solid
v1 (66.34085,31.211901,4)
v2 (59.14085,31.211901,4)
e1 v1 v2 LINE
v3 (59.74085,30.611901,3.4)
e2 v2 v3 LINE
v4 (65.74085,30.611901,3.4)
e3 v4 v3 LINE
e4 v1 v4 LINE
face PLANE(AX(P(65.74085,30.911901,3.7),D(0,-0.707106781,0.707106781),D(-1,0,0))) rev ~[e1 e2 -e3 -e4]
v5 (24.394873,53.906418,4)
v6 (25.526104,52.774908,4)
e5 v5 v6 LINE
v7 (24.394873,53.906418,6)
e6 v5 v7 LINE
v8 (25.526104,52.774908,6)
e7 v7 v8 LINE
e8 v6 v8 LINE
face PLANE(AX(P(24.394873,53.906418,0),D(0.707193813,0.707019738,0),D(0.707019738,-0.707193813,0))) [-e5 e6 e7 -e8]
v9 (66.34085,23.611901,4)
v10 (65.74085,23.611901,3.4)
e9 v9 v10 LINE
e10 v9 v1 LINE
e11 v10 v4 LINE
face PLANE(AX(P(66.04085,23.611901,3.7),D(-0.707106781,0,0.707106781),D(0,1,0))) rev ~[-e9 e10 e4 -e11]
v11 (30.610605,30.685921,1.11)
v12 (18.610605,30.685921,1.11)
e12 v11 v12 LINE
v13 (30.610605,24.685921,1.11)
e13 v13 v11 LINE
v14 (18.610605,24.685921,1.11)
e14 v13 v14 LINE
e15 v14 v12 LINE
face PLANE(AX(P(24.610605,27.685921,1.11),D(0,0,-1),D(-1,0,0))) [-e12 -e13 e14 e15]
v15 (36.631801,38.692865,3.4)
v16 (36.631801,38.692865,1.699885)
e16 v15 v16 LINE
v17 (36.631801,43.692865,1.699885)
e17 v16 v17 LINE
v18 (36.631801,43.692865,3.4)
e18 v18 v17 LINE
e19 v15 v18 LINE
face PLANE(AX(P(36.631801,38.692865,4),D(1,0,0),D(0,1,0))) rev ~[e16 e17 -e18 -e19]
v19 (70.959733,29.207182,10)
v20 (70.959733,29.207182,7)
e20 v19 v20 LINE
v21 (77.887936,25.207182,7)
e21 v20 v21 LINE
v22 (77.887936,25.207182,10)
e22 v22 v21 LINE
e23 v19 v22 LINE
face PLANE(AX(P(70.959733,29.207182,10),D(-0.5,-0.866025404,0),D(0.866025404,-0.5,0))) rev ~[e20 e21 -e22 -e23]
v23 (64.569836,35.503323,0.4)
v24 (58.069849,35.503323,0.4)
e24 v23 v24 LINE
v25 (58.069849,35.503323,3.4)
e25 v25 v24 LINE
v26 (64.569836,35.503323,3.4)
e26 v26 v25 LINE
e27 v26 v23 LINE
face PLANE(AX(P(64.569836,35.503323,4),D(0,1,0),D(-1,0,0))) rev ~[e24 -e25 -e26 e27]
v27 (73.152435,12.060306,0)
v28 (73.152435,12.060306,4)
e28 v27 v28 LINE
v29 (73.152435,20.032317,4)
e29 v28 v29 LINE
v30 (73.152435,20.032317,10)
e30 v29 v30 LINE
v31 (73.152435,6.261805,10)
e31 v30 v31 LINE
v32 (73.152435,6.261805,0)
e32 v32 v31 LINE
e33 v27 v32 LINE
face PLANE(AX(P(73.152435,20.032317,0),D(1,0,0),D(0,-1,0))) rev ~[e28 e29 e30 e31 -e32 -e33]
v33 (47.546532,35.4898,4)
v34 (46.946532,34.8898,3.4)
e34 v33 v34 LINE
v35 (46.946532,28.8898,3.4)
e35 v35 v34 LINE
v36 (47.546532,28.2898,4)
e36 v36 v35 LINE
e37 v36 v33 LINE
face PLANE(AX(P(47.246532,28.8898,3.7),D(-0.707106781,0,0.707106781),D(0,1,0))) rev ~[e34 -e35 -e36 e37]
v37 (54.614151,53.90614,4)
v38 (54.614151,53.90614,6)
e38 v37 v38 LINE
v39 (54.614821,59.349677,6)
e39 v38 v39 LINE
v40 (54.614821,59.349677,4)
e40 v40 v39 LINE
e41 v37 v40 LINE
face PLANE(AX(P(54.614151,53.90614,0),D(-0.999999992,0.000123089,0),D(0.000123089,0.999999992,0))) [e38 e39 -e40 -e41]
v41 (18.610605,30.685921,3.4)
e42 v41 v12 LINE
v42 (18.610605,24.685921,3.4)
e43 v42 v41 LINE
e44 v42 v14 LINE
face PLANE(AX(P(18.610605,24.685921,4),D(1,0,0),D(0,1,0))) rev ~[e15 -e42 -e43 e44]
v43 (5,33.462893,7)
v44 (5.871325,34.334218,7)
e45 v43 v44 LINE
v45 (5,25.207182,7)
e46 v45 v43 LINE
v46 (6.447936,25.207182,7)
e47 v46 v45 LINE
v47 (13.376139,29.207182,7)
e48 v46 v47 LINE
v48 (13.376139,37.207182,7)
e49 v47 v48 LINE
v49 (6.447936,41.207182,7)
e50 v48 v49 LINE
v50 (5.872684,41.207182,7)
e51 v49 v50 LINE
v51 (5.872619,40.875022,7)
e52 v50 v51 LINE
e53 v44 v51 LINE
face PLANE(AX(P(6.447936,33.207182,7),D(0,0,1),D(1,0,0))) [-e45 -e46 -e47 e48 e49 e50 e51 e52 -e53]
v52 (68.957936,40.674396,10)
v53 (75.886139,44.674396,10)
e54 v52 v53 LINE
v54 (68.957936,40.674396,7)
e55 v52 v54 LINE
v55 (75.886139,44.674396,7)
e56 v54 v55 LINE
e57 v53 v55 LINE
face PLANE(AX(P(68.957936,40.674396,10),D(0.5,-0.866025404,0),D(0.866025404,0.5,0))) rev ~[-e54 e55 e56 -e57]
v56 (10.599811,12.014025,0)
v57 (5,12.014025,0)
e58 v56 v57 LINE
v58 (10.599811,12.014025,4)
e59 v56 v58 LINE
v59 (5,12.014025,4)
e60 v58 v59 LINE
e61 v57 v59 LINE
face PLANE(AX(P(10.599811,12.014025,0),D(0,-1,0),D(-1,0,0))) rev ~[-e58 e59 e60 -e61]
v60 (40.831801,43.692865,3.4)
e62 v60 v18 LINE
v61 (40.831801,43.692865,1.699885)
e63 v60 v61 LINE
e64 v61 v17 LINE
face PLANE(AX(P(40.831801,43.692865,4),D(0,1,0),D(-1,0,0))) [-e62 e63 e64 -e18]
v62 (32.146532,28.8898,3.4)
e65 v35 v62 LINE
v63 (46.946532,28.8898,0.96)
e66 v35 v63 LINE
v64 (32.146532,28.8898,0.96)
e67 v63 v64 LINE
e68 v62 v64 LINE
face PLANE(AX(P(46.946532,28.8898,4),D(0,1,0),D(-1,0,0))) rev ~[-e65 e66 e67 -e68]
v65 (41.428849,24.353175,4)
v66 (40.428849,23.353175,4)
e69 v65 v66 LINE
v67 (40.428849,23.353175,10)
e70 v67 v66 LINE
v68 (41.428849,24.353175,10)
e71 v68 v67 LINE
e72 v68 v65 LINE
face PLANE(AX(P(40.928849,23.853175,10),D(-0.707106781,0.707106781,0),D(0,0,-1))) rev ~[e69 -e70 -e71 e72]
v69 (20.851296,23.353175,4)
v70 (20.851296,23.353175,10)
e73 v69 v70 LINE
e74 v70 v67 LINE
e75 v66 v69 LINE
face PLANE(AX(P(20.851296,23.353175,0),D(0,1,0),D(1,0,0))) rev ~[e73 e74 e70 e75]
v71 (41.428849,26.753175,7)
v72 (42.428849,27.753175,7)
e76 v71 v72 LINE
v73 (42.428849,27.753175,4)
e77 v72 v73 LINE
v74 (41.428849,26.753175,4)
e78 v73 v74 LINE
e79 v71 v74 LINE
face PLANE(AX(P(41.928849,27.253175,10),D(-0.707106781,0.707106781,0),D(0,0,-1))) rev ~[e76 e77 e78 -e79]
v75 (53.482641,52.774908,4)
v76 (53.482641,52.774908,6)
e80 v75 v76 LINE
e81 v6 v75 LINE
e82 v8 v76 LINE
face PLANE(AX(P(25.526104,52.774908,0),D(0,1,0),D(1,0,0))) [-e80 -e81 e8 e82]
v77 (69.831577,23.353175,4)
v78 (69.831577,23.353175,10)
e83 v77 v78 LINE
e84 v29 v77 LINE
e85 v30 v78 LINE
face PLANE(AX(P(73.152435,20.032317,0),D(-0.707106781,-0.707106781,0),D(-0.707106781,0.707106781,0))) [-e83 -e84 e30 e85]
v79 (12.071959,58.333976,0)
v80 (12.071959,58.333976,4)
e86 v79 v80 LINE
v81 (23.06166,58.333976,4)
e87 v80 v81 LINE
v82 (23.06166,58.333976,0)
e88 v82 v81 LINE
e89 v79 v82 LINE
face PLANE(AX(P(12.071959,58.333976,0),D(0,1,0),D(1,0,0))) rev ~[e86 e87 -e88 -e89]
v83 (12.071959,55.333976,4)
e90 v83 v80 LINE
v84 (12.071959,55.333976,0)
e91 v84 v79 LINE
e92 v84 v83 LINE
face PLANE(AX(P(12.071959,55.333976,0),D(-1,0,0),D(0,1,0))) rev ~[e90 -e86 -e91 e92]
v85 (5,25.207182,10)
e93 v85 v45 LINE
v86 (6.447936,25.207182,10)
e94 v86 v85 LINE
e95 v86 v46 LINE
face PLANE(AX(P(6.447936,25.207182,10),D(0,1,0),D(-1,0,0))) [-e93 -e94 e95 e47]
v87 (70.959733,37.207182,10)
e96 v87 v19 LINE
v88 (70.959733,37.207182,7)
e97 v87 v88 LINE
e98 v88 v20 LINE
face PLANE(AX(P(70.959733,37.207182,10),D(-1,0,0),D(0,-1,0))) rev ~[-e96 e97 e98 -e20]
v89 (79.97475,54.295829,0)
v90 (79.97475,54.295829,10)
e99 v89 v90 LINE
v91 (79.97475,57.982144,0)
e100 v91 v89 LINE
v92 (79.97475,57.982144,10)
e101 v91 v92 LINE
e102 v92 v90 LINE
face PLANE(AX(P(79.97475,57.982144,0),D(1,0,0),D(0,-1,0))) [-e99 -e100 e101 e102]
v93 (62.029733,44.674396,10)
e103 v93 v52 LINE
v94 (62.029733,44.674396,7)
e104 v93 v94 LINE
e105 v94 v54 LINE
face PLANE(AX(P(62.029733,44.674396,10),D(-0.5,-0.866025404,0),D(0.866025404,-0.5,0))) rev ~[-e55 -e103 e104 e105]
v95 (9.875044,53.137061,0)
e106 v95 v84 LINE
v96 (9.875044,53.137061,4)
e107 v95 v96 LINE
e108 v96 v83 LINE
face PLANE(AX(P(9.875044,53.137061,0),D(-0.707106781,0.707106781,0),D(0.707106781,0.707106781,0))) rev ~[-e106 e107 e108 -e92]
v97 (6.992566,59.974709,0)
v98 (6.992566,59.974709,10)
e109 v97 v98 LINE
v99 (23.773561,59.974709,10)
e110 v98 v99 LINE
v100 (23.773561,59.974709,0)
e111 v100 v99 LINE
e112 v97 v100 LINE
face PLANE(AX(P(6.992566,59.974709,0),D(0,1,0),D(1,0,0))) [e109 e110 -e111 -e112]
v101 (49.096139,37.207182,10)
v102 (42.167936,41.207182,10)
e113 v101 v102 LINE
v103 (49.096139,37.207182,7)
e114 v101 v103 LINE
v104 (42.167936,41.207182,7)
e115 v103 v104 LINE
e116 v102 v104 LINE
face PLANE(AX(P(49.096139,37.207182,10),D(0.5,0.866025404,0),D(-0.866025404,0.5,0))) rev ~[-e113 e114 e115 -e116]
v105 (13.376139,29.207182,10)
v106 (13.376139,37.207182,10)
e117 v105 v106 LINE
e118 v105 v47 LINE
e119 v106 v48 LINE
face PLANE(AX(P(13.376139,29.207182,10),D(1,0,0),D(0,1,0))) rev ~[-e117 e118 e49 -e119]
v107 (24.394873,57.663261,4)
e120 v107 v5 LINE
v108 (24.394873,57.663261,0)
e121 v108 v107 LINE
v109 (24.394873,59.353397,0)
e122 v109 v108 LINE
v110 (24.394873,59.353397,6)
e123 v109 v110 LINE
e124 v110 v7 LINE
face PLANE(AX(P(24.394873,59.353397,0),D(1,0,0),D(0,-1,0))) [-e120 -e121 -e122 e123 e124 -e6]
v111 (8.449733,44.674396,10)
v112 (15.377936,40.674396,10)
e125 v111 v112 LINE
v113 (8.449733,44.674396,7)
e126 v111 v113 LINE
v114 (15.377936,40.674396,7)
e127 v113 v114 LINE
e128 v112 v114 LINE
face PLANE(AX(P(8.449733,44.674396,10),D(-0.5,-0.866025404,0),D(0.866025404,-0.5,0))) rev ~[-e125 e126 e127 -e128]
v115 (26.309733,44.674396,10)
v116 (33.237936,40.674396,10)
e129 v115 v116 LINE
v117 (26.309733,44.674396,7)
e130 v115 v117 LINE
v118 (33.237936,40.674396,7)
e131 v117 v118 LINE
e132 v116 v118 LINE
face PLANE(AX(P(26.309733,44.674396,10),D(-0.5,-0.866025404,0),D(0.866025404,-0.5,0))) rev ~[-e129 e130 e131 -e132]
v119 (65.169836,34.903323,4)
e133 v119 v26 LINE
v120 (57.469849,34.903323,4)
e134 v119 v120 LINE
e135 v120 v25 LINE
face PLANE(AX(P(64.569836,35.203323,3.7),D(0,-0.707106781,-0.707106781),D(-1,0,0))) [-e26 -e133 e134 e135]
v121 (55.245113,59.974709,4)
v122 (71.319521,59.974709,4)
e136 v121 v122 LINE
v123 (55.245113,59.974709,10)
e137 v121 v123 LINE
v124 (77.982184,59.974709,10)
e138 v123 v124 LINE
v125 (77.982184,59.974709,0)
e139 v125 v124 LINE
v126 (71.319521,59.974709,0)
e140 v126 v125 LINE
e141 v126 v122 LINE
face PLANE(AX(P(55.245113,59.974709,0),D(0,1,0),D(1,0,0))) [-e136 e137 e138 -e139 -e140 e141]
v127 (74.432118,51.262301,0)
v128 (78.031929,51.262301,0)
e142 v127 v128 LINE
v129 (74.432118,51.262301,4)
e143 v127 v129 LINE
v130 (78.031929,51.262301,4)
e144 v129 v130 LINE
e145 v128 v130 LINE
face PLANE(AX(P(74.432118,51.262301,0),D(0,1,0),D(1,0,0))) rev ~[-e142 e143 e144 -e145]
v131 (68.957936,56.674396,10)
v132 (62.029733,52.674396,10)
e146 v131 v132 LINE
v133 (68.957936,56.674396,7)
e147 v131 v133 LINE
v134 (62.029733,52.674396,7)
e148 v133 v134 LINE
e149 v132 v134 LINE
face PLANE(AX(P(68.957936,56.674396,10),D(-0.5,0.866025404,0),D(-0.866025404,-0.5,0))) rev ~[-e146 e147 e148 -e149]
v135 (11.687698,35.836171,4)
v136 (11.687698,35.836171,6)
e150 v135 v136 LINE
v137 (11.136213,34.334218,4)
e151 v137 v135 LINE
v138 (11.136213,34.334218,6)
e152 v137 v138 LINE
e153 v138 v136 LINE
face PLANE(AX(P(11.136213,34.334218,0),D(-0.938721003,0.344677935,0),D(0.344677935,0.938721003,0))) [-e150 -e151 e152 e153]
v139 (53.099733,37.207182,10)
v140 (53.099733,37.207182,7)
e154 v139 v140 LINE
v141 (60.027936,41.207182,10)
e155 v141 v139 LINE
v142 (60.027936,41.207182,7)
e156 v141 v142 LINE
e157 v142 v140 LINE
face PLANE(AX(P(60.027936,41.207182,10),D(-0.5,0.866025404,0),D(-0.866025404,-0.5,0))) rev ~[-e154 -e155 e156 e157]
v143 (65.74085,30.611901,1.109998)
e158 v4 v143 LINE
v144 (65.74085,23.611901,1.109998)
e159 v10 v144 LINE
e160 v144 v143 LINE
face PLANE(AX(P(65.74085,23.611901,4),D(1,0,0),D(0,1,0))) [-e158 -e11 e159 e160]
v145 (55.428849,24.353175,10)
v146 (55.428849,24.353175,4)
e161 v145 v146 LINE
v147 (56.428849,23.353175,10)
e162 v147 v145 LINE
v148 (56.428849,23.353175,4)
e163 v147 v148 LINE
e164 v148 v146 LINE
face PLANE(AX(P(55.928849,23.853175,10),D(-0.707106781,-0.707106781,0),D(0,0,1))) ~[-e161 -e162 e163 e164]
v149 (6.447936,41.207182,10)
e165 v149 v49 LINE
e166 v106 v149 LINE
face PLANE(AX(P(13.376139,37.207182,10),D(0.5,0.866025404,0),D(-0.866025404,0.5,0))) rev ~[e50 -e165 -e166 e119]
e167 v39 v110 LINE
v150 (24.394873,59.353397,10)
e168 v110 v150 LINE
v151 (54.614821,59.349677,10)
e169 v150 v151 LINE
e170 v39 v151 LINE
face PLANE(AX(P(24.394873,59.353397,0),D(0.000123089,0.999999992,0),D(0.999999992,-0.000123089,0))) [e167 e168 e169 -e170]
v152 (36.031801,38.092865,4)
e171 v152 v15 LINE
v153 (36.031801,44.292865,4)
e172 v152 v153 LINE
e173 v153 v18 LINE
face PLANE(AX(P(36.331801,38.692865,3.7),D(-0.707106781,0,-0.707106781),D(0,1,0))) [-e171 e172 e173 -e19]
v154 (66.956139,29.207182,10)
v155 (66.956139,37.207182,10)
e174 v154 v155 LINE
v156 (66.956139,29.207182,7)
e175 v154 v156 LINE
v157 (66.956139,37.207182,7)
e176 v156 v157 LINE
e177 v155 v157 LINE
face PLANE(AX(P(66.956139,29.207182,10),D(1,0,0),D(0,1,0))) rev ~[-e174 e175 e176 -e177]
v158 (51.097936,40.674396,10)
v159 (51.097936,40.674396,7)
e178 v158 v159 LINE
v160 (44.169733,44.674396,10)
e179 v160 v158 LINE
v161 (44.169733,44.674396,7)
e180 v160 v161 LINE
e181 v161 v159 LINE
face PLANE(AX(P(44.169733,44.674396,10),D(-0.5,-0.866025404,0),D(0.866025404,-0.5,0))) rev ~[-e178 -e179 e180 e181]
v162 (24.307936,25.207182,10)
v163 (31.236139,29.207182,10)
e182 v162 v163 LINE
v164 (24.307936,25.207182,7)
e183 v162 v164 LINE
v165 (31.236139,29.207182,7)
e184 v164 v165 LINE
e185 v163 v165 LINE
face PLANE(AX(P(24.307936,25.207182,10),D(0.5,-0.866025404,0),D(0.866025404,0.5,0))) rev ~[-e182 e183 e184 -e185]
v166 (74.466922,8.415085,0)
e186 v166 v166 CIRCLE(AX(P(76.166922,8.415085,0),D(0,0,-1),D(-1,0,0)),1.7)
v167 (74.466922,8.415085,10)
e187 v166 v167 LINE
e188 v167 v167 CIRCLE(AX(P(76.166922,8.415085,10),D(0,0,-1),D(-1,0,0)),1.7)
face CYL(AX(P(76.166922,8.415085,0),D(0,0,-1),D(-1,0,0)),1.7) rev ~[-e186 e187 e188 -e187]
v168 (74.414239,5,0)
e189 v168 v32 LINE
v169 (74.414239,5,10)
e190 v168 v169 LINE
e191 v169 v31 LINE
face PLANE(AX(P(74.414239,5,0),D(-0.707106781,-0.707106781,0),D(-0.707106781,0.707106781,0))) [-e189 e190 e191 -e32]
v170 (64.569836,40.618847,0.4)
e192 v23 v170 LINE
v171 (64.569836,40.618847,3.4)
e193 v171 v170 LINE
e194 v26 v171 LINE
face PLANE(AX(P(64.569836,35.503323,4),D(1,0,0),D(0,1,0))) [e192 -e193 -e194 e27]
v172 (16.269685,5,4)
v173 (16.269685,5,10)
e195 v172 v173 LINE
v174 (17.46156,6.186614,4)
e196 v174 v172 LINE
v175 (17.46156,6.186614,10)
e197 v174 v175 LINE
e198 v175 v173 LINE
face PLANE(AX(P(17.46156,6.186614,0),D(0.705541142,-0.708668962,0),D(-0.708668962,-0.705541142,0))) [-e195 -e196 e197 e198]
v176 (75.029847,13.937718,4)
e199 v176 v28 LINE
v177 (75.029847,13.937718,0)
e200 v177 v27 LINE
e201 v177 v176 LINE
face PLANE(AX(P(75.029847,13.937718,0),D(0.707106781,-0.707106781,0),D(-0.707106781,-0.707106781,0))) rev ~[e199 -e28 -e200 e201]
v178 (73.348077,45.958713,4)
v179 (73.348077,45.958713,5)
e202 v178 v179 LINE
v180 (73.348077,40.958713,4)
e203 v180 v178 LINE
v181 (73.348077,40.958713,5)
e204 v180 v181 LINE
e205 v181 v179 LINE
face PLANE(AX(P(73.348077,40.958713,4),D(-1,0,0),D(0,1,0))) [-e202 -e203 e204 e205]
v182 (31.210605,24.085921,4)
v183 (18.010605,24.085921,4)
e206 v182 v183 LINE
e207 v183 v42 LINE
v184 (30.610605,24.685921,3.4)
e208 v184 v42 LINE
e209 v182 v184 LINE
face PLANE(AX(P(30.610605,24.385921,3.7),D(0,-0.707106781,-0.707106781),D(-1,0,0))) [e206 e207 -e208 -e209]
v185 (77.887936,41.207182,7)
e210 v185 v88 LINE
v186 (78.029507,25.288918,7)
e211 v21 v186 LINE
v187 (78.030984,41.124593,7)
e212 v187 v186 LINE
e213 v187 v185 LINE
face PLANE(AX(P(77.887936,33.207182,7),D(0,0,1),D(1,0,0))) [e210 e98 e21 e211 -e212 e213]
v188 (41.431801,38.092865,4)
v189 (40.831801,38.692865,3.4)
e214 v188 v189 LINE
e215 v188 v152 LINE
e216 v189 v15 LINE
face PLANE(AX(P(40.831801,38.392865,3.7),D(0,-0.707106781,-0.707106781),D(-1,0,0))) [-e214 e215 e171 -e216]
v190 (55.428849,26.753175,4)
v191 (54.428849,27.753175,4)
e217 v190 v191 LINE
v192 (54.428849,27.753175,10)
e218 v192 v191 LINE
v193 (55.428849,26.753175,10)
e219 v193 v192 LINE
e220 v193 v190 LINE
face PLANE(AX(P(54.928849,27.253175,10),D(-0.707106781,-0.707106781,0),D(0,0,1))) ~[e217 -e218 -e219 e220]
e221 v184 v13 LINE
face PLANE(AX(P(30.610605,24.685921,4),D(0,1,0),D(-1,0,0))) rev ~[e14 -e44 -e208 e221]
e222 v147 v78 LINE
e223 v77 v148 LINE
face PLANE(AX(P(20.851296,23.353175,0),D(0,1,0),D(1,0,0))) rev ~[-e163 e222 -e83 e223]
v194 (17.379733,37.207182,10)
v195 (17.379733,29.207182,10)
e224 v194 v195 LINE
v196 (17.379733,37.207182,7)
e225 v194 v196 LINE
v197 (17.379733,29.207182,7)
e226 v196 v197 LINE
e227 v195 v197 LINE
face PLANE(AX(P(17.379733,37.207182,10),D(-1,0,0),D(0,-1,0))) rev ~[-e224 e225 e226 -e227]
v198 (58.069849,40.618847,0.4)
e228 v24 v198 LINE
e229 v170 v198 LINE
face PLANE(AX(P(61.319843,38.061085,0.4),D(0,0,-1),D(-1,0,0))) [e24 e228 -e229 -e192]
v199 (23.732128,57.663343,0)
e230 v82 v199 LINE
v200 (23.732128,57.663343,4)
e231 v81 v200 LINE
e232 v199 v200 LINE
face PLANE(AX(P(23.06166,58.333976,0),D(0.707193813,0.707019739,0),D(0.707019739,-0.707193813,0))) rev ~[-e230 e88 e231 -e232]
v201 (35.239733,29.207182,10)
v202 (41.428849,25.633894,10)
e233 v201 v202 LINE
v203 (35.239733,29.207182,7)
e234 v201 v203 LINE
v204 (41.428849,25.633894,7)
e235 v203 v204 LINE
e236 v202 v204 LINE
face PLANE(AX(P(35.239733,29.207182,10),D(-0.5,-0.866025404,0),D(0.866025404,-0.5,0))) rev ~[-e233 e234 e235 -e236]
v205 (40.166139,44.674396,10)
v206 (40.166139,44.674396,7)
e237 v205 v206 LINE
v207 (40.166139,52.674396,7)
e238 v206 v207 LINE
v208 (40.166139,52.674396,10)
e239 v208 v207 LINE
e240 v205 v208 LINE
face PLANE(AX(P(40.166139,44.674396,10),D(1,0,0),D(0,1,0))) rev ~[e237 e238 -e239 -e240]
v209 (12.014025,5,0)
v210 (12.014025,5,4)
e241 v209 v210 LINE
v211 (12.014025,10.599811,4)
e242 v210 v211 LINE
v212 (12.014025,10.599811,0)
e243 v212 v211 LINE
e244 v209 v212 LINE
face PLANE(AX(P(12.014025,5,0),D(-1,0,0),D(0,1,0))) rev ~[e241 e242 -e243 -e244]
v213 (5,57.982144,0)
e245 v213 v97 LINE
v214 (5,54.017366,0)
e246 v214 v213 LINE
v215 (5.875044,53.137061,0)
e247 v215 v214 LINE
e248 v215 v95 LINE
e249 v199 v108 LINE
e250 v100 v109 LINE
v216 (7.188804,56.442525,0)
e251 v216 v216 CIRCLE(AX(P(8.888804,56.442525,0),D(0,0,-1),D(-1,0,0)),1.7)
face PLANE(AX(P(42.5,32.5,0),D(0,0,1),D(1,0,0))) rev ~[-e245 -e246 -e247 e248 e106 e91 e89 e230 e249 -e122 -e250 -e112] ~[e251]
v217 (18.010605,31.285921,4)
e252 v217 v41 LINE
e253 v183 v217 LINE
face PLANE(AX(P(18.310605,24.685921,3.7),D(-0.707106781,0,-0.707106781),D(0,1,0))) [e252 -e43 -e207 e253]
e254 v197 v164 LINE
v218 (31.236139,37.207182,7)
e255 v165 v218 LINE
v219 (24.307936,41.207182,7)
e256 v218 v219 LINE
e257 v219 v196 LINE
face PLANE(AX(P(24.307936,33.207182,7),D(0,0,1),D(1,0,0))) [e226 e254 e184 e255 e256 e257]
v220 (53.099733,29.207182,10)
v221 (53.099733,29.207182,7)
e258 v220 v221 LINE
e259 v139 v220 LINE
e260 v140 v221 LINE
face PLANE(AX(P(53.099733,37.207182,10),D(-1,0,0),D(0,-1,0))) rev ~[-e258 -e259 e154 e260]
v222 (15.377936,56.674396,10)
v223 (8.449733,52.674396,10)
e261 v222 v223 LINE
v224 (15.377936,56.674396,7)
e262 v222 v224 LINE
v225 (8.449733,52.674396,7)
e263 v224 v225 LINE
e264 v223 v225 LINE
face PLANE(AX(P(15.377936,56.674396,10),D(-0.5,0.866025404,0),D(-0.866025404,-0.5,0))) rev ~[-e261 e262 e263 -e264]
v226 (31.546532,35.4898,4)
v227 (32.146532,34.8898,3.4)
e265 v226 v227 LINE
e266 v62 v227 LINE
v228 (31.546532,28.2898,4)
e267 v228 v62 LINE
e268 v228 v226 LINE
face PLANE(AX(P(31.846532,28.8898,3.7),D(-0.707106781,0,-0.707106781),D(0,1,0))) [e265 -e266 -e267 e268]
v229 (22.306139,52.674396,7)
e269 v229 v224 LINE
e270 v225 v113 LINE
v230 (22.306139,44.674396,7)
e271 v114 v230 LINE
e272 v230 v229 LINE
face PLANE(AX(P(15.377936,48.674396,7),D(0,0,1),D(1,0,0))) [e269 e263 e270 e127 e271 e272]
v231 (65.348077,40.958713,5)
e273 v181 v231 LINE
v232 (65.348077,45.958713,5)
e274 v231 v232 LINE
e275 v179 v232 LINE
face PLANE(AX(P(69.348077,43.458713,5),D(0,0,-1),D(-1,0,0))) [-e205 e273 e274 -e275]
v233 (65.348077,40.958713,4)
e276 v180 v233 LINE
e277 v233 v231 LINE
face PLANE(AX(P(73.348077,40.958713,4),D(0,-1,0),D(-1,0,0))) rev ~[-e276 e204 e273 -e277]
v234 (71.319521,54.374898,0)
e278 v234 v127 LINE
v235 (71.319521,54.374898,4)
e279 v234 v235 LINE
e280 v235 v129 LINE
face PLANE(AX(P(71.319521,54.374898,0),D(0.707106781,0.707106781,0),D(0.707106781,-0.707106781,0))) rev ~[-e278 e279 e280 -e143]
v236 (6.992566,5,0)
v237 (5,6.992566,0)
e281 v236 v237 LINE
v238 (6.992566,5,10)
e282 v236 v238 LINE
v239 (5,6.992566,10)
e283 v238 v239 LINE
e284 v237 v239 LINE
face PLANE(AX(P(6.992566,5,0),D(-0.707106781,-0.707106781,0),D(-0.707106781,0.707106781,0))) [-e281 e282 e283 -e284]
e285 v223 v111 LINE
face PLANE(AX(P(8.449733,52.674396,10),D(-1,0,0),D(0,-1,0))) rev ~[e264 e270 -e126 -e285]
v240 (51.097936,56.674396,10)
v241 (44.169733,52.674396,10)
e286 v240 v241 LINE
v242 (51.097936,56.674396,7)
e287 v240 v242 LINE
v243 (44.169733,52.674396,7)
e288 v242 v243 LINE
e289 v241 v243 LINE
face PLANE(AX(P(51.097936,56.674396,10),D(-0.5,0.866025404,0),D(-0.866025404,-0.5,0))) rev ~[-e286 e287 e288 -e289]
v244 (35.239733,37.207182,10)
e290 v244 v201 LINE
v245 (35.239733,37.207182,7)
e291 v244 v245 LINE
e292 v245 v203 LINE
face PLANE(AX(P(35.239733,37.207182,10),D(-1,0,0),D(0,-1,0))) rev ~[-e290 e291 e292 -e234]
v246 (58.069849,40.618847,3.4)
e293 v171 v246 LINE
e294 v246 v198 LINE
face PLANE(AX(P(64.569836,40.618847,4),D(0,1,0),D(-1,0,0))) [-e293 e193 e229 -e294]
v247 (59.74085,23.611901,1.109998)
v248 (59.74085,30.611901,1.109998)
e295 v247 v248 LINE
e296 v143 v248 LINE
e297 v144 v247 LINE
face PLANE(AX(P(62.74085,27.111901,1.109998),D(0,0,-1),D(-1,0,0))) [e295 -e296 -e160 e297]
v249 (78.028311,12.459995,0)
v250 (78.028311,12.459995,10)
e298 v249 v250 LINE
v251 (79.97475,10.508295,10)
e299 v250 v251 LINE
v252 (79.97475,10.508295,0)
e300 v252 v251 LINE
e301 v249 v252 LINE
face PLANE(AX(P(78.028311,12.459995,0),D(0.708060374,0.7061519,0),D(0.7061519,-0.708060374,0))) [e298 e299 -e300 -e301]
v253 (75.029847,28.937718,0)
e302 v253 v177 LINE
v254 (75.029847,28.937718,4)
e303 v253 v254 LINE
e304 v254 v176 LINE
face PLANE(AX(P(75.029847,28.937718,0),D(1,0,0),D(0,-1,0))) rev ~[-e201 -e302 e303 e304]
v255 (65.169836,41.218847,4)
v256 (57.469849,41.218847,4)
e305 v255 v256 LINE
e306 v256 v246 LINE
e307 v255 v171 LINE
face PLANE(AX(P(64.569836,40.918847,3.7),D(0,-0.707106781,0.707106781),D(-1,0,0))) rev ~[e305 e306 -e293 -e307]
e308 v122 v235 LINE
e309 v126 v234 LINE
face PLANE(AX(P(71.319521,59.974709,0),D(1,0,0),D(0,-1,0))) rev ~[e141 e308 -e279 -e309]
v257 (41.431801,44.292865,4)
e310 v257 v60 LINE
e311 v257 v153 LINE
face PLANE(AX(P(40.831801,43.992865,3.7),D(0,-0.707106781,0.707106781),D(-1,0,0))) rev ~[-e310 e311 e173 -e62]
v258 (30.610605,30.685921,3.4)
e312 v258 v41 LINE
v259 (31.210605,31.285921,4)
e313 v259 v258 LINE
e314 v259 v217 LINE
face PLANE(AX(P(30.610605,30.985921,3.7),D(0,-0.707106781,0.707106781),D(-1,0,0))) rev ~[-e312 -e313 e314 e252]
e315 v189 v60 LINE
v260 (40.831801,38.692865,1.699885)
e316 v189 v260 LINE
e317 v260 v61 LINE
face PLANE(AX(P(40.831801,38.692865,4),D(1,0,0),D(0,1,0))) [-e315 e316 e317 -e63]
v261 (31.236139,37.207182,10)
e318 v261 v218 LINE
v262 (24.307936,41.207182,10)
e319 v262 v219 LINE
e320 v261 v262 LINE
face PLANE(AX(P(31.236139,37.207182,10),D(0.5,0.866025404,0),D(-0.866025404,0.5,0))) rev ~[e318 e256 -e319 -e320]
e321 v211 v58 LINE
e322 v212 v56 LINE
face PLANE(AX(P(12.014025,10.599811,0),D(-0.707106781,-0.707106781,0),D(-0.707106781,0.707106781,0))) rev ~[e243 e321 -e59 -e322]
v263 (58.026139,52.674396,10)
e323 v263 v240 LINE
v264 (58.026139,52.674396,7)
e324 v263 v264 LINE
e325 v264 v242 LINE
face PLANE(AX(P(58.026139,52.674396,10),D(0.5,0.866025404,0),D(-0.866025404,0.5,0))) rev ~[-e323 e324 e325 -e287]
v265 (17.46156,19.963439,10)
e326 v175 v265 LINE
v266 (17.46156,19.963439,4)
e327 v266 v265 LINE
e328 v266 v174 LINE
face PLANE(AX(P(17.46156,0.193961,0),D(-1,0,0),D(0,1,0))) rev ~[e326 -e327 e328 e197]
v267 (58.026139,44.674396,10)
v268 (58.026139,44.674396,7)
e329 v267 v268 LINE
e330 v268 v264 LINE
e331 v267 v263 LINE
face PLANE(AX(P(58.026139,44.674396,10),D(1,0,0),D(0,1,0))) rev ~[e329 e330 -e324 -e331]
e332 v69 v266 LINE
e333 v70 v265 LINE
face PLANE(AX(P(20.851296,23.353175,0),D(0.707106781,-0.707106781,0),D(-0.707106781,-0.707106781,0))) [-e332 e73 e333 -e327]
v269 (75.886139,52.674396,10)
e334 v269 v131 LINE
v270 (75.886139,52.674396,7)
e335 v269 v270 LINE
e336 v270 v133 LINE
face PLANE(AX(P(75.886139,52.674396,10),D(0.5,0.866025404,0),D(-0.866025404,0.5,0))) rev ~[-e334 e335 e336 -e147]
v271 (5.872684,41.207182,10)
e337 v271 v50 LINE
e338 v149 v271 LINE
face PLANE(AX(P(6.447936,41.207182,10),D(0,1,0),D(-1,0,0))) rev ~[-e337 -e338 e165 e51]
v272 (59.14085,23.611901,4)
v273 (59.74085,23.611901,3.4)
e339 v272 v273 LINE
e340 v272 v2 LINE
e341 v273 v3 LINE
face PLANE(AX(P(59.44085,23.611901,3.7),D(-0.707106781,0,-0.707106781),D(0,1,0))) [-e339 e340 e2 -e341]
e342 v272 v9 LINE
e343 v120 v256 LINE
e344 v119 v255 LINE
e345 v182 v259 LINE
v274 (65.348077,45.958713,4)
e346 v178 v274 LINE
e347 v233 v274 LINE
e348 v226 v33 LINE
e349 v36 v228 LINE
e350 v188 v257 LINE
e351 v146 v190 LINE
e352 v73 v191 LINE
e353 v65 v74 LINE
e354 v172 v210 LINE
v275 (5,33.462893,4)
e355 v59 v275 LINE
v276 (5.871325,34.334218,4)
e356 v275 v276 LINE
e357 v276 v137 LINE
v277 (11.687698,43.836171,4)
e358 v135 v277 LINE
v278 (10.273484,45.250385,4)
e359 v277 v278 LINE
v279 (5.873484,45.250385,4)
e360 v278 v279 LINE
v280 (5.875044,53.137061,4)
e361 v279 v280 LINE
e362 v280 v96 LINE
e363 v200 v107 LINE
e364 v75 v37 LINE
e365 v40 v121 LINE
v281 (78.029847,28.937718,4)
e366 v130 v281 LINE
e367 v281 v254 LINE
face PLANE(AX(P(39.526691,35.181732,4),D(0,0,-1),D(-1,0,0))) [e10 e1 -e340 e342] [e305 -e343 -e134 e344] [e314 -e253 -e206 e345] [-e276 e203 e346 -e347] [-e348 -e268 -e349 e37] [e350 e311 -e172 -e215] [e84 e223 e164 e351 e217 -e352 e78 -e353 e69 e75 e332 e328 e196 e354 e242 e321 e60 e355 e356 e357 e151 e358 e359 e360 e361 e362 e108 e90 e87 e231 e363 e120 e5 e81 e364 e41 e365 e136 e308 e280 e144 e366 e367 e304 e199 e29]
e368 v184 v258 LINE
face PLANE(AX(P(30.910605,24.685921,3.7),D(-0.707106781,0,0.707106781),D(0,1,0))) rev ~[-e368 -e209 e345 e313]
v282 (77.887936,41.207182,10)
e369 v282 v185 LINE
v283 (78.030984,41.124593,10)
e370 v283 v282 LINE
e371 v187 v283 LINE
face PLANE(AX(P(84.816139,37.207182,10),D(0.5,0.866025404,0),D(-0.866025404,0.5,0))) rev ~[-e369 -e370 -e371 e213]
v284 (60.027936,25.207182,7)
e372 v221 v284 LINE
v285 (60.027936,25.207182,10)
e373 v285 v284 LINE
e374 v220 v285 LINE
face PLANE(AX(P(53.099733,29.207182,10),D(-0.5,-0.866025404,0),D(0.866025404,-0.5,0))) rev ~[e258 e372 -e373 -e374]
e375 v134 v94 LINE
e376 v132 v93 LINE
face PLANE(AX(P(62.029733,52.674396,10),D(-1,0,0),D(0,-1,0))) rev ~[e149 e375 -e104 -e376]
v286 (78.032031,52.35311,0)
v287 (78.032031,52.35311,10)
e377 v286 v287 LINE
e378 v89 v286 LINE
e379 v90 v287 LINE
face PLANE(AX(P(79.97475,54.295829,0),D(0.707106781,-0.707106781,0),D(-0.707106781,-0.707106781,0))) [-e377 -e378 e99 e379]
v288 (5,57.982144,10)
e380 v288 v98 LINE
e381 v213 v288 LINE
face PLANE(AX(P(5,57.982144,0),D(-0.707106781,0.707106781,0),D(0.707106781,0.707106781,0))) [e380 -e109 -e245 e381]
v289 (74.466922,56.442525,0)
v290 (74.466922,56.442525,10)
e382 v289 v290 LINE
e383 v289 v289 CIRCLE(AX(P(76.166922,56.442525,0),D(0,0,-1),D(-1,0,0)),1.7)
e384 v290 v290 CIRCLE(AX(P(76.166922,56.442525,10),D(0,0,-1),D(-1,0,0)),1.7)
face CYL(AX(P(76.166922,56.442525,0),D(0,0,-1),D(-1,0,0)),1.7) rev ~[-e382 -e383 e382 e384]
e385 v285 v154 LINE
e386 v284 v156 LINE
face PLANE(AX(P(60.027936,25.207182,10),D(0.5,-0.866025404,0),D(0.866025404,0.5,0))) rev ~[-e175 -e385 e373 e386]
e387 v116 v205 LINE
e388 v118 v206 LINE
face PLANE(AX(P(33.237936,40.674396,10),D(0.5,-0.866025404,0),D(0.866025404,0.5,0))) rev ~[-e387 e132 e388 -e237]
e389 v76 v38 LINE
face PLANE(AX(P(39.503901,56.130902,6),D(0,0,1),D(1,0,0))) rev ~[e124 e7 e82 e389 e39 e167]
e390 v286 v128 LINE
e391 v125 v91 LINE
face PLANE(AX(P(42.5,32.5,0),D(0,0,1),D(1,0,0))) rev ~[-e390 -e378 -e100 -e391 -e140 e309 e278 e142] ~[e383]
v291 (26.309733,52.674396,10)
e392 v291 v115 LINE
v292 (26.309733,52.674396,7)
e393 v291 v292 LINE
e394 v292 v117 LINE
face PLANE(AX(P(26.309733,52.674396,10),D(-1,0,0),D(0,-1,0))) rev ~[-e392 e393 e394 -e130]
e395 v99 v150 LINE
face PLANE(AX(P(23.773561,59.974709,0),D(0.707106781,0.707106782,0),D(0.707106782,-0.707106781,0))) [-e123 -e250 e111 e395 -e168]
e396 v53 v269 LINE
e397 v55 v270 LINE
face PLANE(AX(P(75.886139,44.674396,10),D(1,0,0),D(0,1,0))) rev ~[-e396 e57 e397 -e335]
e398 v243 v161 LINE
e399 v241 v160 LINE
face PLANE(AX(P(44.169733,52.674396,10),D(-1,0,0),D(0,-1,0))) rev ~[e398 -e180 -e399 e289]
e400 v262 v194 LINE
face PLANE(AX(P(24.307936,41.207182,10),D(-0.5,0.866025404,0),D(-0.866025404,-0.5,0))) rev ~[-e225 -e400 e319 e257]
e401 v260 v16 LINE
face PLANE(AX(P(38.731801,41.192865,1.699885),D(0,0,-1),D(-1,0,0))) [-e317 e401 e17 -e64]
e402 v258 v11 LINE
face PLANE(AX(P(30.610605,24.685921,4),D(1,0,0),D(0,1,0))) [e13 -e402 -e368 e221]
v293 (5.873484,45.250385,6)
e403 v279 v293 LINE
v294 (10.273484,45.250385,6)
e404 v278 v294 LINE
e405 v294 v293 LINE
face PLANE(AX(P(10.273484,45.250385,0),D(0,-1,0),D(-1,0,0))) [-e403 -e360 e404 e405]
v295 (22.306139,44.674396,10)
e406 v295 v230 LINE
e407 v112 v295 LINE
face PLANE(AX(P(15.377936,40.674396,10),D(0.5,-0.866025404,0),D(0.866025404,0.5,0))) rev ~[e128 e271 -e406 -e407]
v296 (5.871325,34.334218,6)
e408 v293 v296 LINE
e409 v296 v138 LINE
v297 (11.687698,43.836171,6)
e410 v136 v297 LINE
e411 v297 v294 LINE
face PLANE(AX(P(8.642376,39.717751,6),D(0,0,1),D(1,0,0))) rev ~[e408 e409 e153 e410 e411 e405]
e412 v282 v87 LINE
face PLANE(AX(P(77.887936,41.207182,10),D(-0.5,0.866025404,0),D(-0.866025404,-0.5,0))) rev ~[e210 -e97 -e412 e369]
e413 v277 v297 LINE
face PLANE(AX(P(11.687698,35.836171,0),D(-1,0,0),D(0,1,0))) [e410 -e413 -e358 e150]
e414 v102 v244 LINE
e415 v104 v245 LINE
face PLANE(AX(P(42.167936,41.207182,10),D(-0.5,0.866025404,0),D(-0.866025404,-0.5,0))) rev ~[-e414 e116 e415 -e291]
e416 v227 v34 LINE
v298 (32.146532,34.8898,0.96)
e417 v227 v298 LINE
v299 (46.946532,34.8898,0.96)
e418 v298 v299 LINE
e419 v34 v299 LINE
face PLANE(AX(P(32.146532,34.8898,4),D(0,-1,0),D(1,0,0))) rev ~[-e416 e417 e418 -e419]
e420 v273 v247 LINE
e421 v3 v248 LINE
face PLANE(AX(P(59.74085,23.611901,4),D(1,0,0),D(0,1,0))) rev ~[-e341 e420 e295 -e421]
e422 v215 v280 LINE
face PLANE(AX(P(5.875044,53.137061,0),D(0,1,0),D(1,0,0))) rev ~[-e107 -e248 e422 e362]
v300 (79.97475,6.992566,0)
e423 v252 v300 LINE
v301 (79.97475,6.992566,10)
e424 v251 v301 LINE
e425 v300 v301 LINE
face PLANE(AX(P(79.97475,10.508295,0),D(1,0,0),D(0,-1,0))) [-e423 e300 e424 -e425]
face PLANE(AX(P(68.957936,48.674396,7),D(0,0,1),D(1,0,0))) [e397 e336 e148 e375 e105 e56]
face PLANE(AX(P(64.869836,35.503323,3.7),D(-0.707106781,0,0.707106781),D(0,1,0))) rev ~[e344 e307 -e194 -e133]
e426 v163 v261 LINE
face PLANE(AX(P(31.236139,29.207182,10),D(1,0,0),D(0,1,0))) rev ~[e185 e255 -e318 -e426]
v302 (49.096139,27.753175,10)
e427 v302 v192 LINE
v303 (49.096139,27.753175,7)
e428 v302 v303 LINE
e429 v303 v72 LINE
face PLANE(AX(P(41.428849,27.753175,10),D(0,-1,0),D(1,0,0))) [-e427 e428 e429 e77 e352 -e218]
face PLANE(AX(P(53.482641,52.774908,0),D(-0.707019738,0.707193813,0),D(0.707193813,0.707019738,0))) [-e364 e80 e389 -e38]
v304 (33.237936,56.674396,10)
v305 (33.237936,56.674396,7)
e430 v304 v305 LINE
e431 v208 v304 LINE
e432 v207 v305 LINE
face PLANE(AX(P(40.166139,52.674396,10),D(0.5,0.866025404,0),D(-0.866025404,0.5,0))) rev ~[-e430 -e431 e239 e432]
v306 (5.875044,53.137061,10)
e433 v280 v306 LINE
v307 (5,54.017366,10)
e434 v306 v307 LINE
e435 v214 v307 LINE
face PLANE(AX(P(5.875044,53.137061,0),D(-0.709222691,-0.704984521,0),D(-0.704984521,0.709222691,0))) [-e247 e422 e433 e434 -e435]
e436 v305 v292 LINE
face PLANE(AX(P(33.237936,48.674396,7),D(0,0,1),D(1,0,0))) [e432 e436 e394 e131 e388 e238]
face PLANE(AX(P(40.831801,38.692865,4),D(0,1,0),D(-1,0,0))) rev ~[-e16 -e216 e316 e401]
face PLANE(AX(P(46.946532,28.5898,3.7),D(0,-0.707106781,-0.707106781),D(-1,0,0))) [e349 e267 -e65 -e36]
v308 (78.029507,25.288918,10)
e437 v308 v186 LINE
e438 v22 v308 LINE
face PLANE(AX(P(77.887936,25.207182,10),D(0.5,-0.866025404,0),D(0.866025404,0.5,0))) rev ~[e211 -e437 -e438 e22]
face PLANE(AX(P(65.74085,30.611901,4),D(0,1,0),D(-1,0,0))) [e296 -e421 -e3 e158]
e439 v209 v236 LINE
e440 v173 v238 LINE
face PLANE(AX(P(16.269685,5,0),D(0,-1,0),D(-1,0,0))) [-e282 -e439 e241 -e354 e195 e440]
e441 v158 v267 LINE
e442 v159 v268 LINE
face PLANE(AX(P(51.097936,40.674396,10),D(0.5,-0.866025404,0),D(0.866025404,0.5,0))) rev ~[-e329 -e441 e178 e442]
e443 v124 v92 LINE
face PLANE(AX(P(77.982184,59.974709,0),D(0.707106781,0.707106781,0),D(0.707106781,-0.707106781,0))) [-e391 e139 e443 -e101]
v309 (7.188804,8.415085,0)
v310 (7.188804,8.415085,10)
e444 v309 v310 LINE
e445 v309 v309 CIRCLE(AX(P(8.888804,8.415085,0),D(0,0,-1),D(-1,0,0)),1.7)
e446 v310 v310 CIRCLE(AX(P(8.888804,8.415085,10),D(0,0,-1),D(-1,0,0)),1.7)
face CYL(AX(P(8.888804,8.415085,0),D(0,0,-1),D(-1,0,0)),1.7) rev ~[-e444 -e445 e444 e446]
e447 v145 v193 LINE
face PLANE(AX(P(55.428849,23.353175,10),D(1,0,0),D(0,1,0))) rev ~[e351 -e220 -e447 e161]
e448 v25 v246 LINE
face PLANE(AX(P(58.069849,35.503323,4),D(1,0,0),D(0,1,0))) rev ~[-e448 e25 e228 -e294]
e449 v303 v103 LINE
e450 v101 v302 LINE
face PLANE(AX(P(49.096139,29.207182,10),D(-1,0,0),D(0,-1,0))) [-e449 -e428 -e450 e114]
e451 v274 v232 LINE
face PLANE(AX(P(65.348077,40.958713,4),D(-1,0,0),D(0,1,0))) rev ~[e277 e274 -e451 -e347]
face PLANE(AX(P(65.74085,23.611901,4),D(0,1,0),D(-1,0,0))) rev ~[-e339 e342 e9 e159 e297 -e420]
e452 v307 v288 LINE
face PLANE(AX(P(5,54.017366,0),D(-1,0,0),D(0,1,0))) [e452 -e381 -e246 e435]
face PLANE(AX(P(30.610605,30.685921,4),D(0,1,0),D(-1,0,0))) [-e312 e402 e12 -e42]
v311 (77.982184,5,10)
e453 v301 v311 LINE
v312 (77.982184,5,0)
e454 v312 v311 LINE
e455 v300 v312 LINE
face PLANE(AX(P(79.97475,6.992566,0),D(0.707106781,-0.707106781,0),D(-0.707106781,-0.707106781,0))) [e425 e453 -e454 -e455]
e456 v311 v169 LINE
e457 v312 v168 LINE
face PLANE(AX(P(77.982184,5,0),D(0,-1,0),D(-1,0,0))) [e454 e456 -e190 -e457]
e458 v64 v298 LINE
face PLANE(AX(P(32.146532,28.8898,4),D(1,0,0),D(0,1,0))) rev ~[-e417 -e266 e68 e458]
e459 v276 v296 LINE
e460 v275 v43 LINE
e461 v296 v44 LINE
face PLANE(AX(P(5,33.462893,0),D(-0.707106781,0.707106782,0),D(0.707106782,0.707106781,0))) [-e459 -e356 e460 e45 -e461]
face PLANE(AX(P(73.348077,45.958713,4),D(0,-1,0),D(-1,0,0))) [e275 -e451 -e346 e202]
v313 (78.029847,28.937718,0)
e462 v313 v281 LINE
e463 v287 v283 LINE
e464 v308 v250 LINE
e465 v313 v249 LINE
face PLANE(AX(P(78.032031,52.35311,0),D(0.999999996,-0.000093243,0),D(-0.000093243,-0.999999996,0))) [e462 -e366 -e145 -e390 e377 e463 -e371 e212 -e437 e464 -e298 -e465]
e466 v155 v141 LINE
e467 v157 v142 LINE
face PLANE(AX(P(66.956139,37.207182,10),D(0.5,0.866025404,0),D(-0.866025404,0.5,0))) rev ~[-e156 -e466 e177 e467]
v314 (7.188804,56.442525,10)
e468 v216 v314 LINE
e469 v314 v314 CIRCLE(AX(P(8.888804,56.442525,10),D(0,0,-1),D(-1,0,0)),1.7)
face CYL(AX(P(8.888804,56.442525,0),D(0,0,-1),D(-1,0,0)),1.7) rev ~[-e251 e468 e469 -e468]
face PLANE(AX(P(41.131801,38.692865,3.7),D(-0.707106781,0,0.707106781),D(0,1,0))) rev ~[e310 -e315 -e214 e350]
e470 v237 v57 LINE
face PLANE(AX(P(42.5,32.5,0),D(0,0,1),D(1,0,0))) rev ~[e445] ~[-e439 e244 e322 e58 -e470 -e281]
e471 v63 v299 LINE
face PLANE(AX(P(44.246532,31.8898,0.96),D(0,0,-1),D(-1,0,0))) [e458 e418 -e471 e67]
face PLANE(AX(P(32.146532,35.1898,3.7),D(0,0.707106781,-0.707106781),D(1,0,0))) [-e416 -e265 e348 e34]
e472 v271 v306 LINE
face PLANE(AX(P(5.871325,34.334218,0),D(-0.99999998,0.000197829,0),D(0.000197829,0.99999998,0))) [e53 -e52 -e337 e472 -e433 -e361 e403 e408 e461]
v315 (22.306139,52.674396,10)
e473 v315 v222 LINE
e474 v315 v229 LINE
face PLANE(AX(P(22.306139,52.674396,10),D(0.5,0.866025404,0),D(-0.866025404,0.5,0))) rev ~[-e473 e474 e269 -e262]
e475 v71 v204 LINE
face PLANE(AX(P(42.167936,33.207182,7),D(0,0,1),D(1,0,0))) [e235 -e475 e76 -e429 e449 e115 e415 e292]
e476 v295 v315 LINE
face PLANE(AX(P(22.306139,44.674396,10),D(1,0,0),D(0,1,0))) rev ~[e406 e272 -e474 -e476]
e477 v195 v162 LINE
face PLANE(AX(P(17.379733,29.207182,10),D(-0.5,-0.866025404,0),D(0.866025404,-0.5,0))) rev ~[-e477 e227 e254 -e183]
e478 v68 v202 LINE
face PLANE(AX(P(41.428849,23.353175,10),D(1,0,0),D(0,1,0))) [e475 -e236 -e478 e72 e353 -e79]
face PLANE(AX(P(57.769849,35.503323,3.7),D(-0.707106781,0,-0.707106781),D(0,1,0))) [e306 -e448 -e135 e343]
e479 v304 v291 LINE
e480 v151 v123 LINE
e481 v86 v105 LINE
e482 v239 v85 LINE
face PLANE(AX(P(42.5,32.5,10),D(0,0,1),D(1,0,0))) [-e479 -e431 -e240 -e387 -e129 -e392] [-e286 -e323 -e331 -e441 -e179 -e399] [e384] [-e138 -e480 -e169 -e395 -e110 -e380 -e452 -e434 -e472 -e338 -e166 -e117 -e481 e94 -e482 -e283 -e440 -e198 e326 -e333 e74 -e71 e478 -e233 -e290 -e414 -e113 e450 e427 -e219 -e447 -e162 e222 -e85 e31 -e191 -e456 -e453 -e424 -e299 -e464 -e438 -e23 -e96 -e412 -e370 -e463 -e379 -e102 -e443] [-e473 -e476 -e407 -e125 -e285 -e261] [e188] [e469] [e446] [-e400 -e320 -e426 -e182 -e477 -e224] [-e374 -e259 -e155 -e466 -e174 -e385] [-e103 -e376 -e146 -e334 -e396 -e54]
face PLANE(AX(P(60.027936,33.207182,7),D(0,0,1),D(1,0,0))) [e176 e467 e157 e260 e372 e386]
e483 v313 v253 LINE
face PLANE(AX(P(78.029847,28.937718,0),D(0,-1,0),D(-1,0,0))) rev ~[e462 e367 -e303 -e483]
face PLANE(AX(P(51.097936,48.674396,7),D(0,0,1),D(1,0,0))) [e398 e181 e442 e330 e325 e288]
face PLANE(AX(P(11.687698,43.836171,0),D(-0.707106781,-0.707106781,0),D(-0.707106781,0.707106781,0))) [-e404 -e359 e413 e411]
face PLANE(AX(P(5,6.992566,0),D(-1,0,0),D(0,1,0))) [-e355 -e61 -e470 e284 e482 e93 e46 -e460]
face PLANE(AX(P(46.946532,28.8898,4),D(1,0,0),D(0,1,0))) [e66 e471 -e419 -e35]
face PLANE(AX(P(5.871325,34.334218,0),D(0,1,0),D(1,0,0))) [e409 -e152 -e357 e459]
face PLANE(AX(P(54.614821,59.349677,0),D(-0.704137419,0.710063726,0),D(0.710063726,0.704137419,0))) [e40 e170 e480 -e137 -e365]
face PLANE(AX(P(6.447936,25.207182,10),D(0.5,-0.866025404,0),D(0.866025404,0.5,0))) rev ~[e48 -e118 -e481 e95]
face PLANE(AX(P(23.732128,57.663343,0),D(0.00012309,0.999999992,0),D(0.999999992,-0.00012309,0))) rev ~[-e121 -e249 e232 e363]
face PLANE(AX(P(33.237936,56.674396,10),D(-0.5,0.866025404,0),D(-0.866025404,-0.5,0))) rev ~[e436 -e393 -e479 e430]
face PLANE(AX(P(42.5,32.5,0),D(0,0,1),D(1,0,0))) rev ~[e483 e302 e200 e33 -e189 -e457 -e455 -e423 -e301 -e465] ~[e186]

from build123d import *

# Parameters (mm, degrees)
SKETCH_1_W           = 85
SKETCH_1_H           = 65
EXTRUDE_1_DEPTH      = 10
CUT_EXTRUDE_1_REACH  = 109.471
SKETCH_2_R           = 1.7
CUT_EXTRUDE_2_REACH  = 109.471
SKETCH_3_W           = 85
SKETCH_3_H           = 65
CUT_EXTRUDE_4_REACH  = 102.464
CUT_EXTRUDE_7_DEPTH  = 6
CUT_EXTRUDE_8_DEPTH  = 6
CUT_EXTRUDE_11_DEPTH = 4
SKETCH_8_W           = 8
SKETCH_8_H           = 5
CUT_EXTRUDE_12_DEPTH = 1
SKETCH_10_W          = 5.4
SKETCH_10_H          = 6
SKETCH_10_W_2        = 4
EXTRUDE_2_DEPTH      = 3.04
SKETCH_11_W          = 4.2
SKETCH_11_H          = 5
EXTRUDE_3_DEPTH      = 2.300115
SKETCH_12_W          = 12
SKETCH_12_H          = 6
EXTRUDE_4_DEPTH      = 2.89
SKETCH_13_W          = 6.499986347
SKETCH_13_H          = 5.115524378
EXTRUDE_5_DEPTH      = 3.6
SKETCH_14_W          = 6
SKETCH_14_H          = 7
EXTRUDE_6_DEPTH      = 2.890002
SKETCH_15_W          = 14
SKETCH_15_H          = 4.4
CUT_EXTRUDE_13_DEPTH = 6
CHAMFER_1_SIZE       = 1
CHAMFER_2_SIZE       = 0.6
CHAMFER_3_SIZE       = 0.6
CHAMFER_4_SIZE       = 0.6
CHAMFER_5_SIZE       = 0.6
CHAMFER_6_SIZE       = 0.6
CUT_EXTRUDE_15_DEPTH = 3
CUT_EXTRUDE_16_DEPTH = 3


with BuildPart() as part:
    # 草图1 → 凸台-拉伸1 (new body)
    with BuildSketch(Plane.XY):
        with Locations((42.5, 32.5)):
            Rectangle(SKETCH_1_W, SKETCH_1_H)
    extrude(amount=EXTRUDE_1_DEPTH)

    # 草图2 → 切除-拉伸1 (cut, up to next)
    with BuildSketch(Plane(origin=(0, 0, 0), x_dir=(-1, 0, 0), z_dir=(0, 0, -1)), mode=Mode.PRIVATE) as cut_extrude_1_sk1:
        with Locations((-76.166921514, 56.442524765)):
            Circle(SKETCH_2_R)
    cut_extrude_1_tool1 = extrude(cut_extrude_1_sk1.sketch, amount=-CUT_EXTRUDE_1_REACH, mode=Mode.PRIVATE) & part.part
    # 草图2 → 切除-拉伸1 (cut, up to next)
    with BuildSketch(Plane(origin=(0, 0, 0), x_dir=(-1, 0, 0), z_dir=(0, 0, -1)), mode=Mode.PRIVATE) as cut_extrude_1_sk2:
        with Locations((-8.888803658, 56.442524765)):
            Circle(SKETCH_2_R)
    cut_extrude_1_tool2 = extrude(cut_extrude_1_sk2.sketch, amount=-CUT_EXTRUDE_1_REACH, mode=Mode.PRIVATE) & part.part
    # 草图2 → 切除-拉伸1 (cut, up to next)
    with BuildSketch(Plane(origin=(0, 0, 0), x_dir=(-1, 0, 0), z_dir=(0, 0, -1)), mode=Mode.PRIVATE) as cut_extrude_1_sk3:
        with Locations((-76.166921514, 8.41508509)):
            Circle(SKETCH_2_R)
    cut_extrude_1_tool3 = extrude(cut_extrude_1_sk3.sketch, amount=-CUT_EXTRUDE_1_REACH, mode=Mode.PRIVATE) & part.part
    # 草图2 → 切除-拉伸1 (cut, up to next)
    with BuildSketch(Plane(origin=(0, 0, 0), x_dir=(-1, 0, 0), z_dir=(0, 0, -1)), mode=Mode.PRIVATE) as cut_extrude_1_sk4:
        with Locations((-8.888803658, 8.41508509)):
            Circle(SKETCH_2_R)
    cut_extrude_1_tool4 = extrude(cut_extrude_1_sk4.sketch, amount=-CUT_EXTRUDE_1_REACH, mode=Mode.PRIVATE) & part.part
    add(cut_extrude_1_tool1.solids().sort_by_distance((76.166922, 56.442525, 0))[0], mode=Mode.SUBTRACT)
    add(cut_extrude_1_tool2.solids().sort_by_distance((8.888804, 56.442525, 0))[0], mode=Mode.SUBTRACT)
    add(cut_extrude_1_tool3.solids().sort_by_distance((76.166922, 8.415085, 0))[0], mode=Mode.SUBTRACT)
    add(cut_extrude_1_tool4.solids().sort_by_distance((8.888804, 8.415085, 0))[0], mode=Mode.SUBTRACT)

    # 草图3 → 切除-拉伸2 (cut, up to next)
    with BuildSketch(Plane(origin=(0, 0, 0), x_dir=(-1, 0, 0), z_dir=(0, 0, -1)), mode=Mode.PRIVATE) as cut_extrude_2_sk1:
        with Locations((-42.5, 32.5)):
            Rectangle(SKETCH_3_W, SKETCH_3_H)
        Polygon((-5, 33.462892894), (-5.871324699, 34.334217592), (-5.87504445, 53.137061214), (-5, 54.017366187), (-5, 57.982143592), (-6.992565577, 59.974709169), (-23.773560915, 59.974709169), (-24.394872914, 59.353397171), (-54.61482093, 59.349677419), (-55.245113202, 59.974709169), (-77.982184232, 59.974709169), (-79.974749809, 57.982143592), (-79.97474981, 54.295829484), (-78.032030648, 52.353110322), (-78.028310897, 12.45999492), (-79.97474981, 10.508295484), (-79.97474981, 6.992565577), (-77.982184232, 5), (-74.414239441, 5), (-73.152434681, 6.26180476), (-60.043505207, 6.265524511), (-58.772720173, 5), (-32.926479725, 5), (-31.743585303, 6.182894422), (-17.461559563, 6.186614173), (-16.269684867, 5), (-6.992565577, 5), (-5, 6.992565577), align=None, mode=Mode.SUBTRACT)
    cut_extrude_2_tool1 = extrude(cut_extrude_2_sk1.sketch, amount=-CUT_EXTRUDE_2_REACH, mode=Mode.PRIVATE) & part.part
    add(cut_extrude_2_tool1.solids().sort_by_distance((42.5, 63.929953, 0))[0], mode=Mode.SUBTRACT)

    # 草图4 → 切除-拉伸4 (cut, up to next)
    with BuildSketch(Plane(origin=(0, 0, 0), x_dir=(-1, 0, 0), z_dir=(0, 0, -1)), mode=Mode.PRIVATE) as cut_extrude_4_sk1:
        Polygon((-73.152434681, 6.26180476), (-73.152434681, 20.032317315), (-69.831576581, 23.353175415), (-46.787984184, 23.353175415), (-20.851296271, 23.353175415), (-17.461559563, 19.963438707), (-17.461559563, 6.186614173), (-17.461559563, 0.193960815), (-73.152434681, 0.193960815), align=None)
    cut_extrude_4_tool1 = extrude(cut_extrude_4_sk1.sketch, amount=-CUT_EXTRUDE_4_REACH, mode=Mode.PRIVATE) & part.part
    add(cut_extrude_4_tool1.solids().sort_by_distance((45.311727, 11.681443, 0))[0], mode=Mode.SUBTRACT)

    # 草图5 → 切除-拉伸7 (cut)
    with BuildSketch(Plane(origin=(0, 0, 0), x_dir=(-1, 0, 0), z_dir=(0, 0, -1))):
        Polygon((-24.394872914, 59.353397171), (-24.394872914, 53.906418167), (-25.526104495, 52.774908066), (-53.482640788, 52.774908066), (-54.614150889, 53.906139647), (-54.61482093, 59.349677419), align=None)
    extrude(amount=-CUT_EXTRUDE_7_DEPTH, mode=Mode.SUBTRACT)

    # 草图6 → 切除-拉伸8 (cut)
    with BuildSketch(Plane(origin=(0, 0, 0), x_dir=(-1, 0, 0), z_dir=(0, 0, -1))):
        Polygon((-5.871324699, 34.334217592), (-11.136213102, 34.334217592), (-11.687697798, 35.836171197), (-11.687697798, 43.836171197), (-10.273484235, 45.250384759), (-5.873484235, 45.250384759), align=None)
    extrude(amount=-CUT_EXTRUDE_8_DEPTH, mode=Mode.SUBTRACT)

    # 草图7 → 切除-拉伸11 (cut)
    with BuildSketch(Plane(origin=(0, 0, 0), x_dir=(-1, 0, 0), z_dir=(0, 0, -1))):
        Polygon((-74.432117646, 51.26230094), (-76.432117646, 51.26230094), (-78.031928938, 51.26230094), (-78.029847328, 28.93771831), (-75.029847328, 28.93771831), (-75.029847328, 13.93771831), (-73.152434681, 12.060305663), (-73.152434681, 20.032317315), (-69.831576581, 23.353175415), (-20.851296271, 23.353175415), (-17.461559563, 19.963438707), (-17.461559563, 6.186614173), (-16.269684867, 5), (-12.014024847, 5), (-12.014024847, 10.599811284), (-10.599811284, 12.014024847), (-6.599811284, 12.014024847), (-5, 12.014024847), (-5, 33.462892894), (-5.871324699, 34.334217592), (-11.136213102, 34.334217592), (-11.687697798, 35.836171197), (-11.687697798, 43.836171197), (-10.273484235, 45.250384759), (-5.873484235, 45.250384759), (-5.87504445, 53.137061214), (-9.87504445, 53.137061214), (-12.071959353, 55.333976117), (-12.071959353, 58.333976117), (-23.061659554, 58.333976117), (-23.732127818, 57.663342778), (-24.394872914, 57.663261201), (-24.394872914, 53.906418167), (-25.526104495, 52.774908066), (-53.482640788, 52.774908066), (-54.614150889, 53.906139647), (-54.61482093, 59.349677419), (-55.245113202, 59.974709169), (-71.319520701, 59.974709169), (-71.319520701, 58.374897885), (-71.319520701, 54.374897885), align=None)
    extrude(amount=-CUT_EXTRUDE_11_DEPTH, mode=Mode.SUBTRACT)

    # 草图8 → 切除-拉伸12 (cut)
    with BuildSketch(Plane(origin=(0, 0, 4), x_dir=(-1, 0, 0), z_dir=(0, 0, -1))):
        with Locations((-69.348077333, 43.45871309)):
            Rectangle(SKETCH_8_W, SKETCH_8_H)
    extrude(amount=-CUT_EXTRUDE_12_DEPTH, mode=Mode.SUBTRACT)

    # 草图10 → 凸台-拉伸2 (add)
    with BuildSketch(Plane(origin=(0, 0, 4), x_dir=(-1, 0, 0), z_dir=(0, 0, -1))):
        with Locations((-44.246532103, 31.889800214)):
            Rectangle(SKETCH_10_W, SKETCH_10_H)
        with Locations((-39.546532103, 31.889800214)):
            Rectangle(SKETCH_10_W_2, SKETCH_10_H)
        with Locations((-34.846532103, 31.889800214)):
            Rectangle(SKETCH_10_W, SKETCH_10_H)
    extrude(amount=EXTRUDE_2_DEPTH)

    # 草图11 → 凸台-拉伸3 (add)
    with BuildSketch(Plane(origin=(0, 0, 4), x_dir=(-1, 0, 0), z_dir=(0, 0, -1))):
        with Locations((-38.731800654, 41.192864876)):
            Rectangle(SKETCH_11_W, SKETCH_11_H)
    extrude(amount=EXTRUDE_3_DEPTH)

    # 草图12 → 凸台-拉伸4 (add)
    with BuildSketch(Plane(origin=(0, 0, 4), x_dir=(-1, 0, 0), z_dir=(0, 0, -1))):
        with Locations((-24.610605003, 27.685920752)):
            Rectangle(SKETCH_12_W, SKETCH_12_H)
    extrude(amount=EXTRUDE_4_DEPTH)

    # 草图13 → 凸台-拉伸5 (add)
    with BuildSketch(Plane(origin=(0, 0, 4), x_dir=(-1, 0, 0), z_dir=(0, 0, -1))):
        with Locations((-61.319842519, 38.061085021)):
            Rectangle(SKETCH_13_W, SKETCH_13_H)
    extrude(amount=EXTRUDE_5_DEPTH)

    # 草图14 → 凸台-拉伸6 (add)
    with BuildSketch(Plane(origin=(0, 0, 4), x_dir=(-1, 0, 0), z_dir=(0, 0, -1))):
        with Locations((-62.740849727, 27.111901224)):
            Rectangle(SKETCH_14_W, SKETCH_14_H)
    extrude(amount=EXTRUDE_6_DEPTH)

    # 草图15 → 切除-拉伸13 (cut)
    with BuildSketch(Plane.XY.offset(10)):
        with Locations((48.428848604, 25.553175415)):
            Rectangle(SKETCH_15_W, SKETCH_15_H)
    extrude(amount=-CUT_EXTRUDE_13_DEPTH, mode=Mode.SUBTRACT)

    # 倒角1
    chamfer_1_edges = [part.edges().sort_by_distance(p)[0] for p in [
        (55.428848604, 23.353175415, 7),
        (55.428848604, 27.753175415, 7),
        (41.428848604, 27.753175415, 7),
        (41.428848604, 23.353175415, 7),
    ]]
    chamfer(chamfer_1_edges, length=CHAMFER_1_SIZE)

    # 倒角2
    chamfer_2_edges = [part.edges().sort_by_distance(p)[0] for p in [
        (64.569835693, 38.061085021, 4),
        (61.31984252, 35.503322832, 4),
        (58.069849346, 38.061085021, 4),
        (61.31984252, 40.61884721, 4),
    ]]
    chamfer(chamfer_2_edges, length=CHAMFER_2_SIZE)

    # 倒角3
    chamfer_3_edges = [part.edges().sort_by_distance(p)[0] for p in [
        (39.546532103, 28.889800214, 4),
        (46.946532103, 31.889800214, 4),
        (39.546532103, 34.889800214, 4),
        (32.146532103, 31.889800214, 4),
    ]]
    chamfer(chamfer_3_edges, length=CHAMFER_3_SIZE)

    # 倒角4
    chamfer_4_edges = [part.edges().sort_by_distance(p)[0] for p in [
        (30.610605003, 27.685920752, 4),
        (24.610605003, 24.685920752, 4),
        (18.610605003, 27.685920752, 4),
        (24.610605003, 30.685920752, 4),
    ]]
    chamfer(chamfer_4_edges, length=CHAMFER_4_SIZE)

    # 倒角5
    chamfer_5_edges = [part.edges().sort_by_distance(p)[0] for p in [
        (40.831800654, 41.192864876, 4),
        (38.731800654, 38.692864876, 4),
        (36.631800654, 41.192864876, 4),
        (38.731800654, 43.692864876, 4),
    ]]
    chamfer(chamfer_5_edges, length=CHAMFER_5_SIZE)

    # 倒角6
    chamfer_6_edges = [part.edges().sort_by_distance(p)[0] for p in [
        (65.740849727, 27.111901224, 4),
        (59.740849727, 27.111901224, 4),
        (62.740849727, 30.611901224, 4),
    ]]
    chamfer(chamfer_6_edges, length=CHAMFER_6_SIZE)

    # 草图17 → 切除-拉伸15 (cut)
    with BuildSketch(Plane.XY.offset(10)):
        Polygon((40.166139484, 44.674395647), (40.166139484, 52.674395647), (33.237936254, 56.674395647), (26.309733024, 52.674395647), (26.309733024, 44.674395647), (33.237936254, 40.674395647), align=None)
        Polygon((22.306139484, 44.674395647), (22.306139484, 52.674395647), (15.377936254, 56.674395647), (8.449733024, 52.674395647), (8.449733024, 44.674395647), (15.377936254, 40.674395647), align=None)
        Polygon((58.026139484, 44.674395647), (58.026139484, 52.674395647), (51.097936254, 56.674395647), (44.169733024, 52.674395647), (44.169733024, 44.674395647), (51.097936254, 40.674395647), align=None)
        Polygon((75.886139484, 44.674395647), (75.886139484, 52.674395647), (68.957936254, 56.674395647), (62.029733024, 52.674395647), (62.029733024, 44.674395647), (68.957936254, 40.674395647), align=None)
        Polygon((93.746139484, 44.674395647), (93.746139484, 52.674395647), (86.817936254, 56.674395647), (79.889733024, 52.674395647), (79.889733024, 44.674395647), (86.817936254, 40.674395647), align=None)
        Polygon((31.236139484, 29.207181935), (31.236139484, 37.207181935), (24.307936254, 41.207181935), (17.379733024, 37.207181935), (17.379733024, 29.207181935), (24.307936254, 25.207181935), align=None)
        Polygon((49.096139484, 29.207181935), (49.096139484, 37.207181935), (42.167936254, 41.207181935), (35.239733024, 37.207181935), (35.239733024, 29.207181935), (42.167936254, 25.207181935), align=None)
        Polygon((66.956139484, 29.207181935), (66.956139484, 37.207181935), (60.027936254, 41.207181935), (53.099733024, 37.207181935), (53.099733024, 29.207181935), (60.027936254, 25.207181935), align=None)
        Polygon((84.816139484, 29.207181935), (84.816139484, 37.207181935), (77.887936254, 41.207181935), (70.959733024, 37.207181935), (70.959733024, 29.207181935), (77.887936254, 25.207181935), align=None)
        Polygon((13.376139484, 29.207181935), (13.376139484, 37.207181935), (6.447936254, 41.207181935), (-0.480266976, 37.207181935), (-0.480266976, 29.207181935), (6.447936254, 25.207181935), align=None)
    extrude(amount=-CUT_EXTRUDE_15_DEPTH, mode=Mode.SUBTRACT)

    # 草图18 → 切除-拉伸16 (cut)
    with BuildSketch(Plane.XY.offset(10)):
        Polygon((6.447936254, 41.207181935), (5.872684372, 41.207181935), (5.872618661, 40.875022168), align=None)
        Polygon((6.447936254, 25.207181935), (5, 25.207181935), (5, 26.043148321), align=None)
        Polygon((49.096139484, 29.207181935), (49.096139484, 27.753175415), (46.577726316, 27.753175415), align=None)
    extrude(amount=-CUT_EXTRUDE_16_DEPTH, mode=Mode.SUBTRACT)


solid = part.part
